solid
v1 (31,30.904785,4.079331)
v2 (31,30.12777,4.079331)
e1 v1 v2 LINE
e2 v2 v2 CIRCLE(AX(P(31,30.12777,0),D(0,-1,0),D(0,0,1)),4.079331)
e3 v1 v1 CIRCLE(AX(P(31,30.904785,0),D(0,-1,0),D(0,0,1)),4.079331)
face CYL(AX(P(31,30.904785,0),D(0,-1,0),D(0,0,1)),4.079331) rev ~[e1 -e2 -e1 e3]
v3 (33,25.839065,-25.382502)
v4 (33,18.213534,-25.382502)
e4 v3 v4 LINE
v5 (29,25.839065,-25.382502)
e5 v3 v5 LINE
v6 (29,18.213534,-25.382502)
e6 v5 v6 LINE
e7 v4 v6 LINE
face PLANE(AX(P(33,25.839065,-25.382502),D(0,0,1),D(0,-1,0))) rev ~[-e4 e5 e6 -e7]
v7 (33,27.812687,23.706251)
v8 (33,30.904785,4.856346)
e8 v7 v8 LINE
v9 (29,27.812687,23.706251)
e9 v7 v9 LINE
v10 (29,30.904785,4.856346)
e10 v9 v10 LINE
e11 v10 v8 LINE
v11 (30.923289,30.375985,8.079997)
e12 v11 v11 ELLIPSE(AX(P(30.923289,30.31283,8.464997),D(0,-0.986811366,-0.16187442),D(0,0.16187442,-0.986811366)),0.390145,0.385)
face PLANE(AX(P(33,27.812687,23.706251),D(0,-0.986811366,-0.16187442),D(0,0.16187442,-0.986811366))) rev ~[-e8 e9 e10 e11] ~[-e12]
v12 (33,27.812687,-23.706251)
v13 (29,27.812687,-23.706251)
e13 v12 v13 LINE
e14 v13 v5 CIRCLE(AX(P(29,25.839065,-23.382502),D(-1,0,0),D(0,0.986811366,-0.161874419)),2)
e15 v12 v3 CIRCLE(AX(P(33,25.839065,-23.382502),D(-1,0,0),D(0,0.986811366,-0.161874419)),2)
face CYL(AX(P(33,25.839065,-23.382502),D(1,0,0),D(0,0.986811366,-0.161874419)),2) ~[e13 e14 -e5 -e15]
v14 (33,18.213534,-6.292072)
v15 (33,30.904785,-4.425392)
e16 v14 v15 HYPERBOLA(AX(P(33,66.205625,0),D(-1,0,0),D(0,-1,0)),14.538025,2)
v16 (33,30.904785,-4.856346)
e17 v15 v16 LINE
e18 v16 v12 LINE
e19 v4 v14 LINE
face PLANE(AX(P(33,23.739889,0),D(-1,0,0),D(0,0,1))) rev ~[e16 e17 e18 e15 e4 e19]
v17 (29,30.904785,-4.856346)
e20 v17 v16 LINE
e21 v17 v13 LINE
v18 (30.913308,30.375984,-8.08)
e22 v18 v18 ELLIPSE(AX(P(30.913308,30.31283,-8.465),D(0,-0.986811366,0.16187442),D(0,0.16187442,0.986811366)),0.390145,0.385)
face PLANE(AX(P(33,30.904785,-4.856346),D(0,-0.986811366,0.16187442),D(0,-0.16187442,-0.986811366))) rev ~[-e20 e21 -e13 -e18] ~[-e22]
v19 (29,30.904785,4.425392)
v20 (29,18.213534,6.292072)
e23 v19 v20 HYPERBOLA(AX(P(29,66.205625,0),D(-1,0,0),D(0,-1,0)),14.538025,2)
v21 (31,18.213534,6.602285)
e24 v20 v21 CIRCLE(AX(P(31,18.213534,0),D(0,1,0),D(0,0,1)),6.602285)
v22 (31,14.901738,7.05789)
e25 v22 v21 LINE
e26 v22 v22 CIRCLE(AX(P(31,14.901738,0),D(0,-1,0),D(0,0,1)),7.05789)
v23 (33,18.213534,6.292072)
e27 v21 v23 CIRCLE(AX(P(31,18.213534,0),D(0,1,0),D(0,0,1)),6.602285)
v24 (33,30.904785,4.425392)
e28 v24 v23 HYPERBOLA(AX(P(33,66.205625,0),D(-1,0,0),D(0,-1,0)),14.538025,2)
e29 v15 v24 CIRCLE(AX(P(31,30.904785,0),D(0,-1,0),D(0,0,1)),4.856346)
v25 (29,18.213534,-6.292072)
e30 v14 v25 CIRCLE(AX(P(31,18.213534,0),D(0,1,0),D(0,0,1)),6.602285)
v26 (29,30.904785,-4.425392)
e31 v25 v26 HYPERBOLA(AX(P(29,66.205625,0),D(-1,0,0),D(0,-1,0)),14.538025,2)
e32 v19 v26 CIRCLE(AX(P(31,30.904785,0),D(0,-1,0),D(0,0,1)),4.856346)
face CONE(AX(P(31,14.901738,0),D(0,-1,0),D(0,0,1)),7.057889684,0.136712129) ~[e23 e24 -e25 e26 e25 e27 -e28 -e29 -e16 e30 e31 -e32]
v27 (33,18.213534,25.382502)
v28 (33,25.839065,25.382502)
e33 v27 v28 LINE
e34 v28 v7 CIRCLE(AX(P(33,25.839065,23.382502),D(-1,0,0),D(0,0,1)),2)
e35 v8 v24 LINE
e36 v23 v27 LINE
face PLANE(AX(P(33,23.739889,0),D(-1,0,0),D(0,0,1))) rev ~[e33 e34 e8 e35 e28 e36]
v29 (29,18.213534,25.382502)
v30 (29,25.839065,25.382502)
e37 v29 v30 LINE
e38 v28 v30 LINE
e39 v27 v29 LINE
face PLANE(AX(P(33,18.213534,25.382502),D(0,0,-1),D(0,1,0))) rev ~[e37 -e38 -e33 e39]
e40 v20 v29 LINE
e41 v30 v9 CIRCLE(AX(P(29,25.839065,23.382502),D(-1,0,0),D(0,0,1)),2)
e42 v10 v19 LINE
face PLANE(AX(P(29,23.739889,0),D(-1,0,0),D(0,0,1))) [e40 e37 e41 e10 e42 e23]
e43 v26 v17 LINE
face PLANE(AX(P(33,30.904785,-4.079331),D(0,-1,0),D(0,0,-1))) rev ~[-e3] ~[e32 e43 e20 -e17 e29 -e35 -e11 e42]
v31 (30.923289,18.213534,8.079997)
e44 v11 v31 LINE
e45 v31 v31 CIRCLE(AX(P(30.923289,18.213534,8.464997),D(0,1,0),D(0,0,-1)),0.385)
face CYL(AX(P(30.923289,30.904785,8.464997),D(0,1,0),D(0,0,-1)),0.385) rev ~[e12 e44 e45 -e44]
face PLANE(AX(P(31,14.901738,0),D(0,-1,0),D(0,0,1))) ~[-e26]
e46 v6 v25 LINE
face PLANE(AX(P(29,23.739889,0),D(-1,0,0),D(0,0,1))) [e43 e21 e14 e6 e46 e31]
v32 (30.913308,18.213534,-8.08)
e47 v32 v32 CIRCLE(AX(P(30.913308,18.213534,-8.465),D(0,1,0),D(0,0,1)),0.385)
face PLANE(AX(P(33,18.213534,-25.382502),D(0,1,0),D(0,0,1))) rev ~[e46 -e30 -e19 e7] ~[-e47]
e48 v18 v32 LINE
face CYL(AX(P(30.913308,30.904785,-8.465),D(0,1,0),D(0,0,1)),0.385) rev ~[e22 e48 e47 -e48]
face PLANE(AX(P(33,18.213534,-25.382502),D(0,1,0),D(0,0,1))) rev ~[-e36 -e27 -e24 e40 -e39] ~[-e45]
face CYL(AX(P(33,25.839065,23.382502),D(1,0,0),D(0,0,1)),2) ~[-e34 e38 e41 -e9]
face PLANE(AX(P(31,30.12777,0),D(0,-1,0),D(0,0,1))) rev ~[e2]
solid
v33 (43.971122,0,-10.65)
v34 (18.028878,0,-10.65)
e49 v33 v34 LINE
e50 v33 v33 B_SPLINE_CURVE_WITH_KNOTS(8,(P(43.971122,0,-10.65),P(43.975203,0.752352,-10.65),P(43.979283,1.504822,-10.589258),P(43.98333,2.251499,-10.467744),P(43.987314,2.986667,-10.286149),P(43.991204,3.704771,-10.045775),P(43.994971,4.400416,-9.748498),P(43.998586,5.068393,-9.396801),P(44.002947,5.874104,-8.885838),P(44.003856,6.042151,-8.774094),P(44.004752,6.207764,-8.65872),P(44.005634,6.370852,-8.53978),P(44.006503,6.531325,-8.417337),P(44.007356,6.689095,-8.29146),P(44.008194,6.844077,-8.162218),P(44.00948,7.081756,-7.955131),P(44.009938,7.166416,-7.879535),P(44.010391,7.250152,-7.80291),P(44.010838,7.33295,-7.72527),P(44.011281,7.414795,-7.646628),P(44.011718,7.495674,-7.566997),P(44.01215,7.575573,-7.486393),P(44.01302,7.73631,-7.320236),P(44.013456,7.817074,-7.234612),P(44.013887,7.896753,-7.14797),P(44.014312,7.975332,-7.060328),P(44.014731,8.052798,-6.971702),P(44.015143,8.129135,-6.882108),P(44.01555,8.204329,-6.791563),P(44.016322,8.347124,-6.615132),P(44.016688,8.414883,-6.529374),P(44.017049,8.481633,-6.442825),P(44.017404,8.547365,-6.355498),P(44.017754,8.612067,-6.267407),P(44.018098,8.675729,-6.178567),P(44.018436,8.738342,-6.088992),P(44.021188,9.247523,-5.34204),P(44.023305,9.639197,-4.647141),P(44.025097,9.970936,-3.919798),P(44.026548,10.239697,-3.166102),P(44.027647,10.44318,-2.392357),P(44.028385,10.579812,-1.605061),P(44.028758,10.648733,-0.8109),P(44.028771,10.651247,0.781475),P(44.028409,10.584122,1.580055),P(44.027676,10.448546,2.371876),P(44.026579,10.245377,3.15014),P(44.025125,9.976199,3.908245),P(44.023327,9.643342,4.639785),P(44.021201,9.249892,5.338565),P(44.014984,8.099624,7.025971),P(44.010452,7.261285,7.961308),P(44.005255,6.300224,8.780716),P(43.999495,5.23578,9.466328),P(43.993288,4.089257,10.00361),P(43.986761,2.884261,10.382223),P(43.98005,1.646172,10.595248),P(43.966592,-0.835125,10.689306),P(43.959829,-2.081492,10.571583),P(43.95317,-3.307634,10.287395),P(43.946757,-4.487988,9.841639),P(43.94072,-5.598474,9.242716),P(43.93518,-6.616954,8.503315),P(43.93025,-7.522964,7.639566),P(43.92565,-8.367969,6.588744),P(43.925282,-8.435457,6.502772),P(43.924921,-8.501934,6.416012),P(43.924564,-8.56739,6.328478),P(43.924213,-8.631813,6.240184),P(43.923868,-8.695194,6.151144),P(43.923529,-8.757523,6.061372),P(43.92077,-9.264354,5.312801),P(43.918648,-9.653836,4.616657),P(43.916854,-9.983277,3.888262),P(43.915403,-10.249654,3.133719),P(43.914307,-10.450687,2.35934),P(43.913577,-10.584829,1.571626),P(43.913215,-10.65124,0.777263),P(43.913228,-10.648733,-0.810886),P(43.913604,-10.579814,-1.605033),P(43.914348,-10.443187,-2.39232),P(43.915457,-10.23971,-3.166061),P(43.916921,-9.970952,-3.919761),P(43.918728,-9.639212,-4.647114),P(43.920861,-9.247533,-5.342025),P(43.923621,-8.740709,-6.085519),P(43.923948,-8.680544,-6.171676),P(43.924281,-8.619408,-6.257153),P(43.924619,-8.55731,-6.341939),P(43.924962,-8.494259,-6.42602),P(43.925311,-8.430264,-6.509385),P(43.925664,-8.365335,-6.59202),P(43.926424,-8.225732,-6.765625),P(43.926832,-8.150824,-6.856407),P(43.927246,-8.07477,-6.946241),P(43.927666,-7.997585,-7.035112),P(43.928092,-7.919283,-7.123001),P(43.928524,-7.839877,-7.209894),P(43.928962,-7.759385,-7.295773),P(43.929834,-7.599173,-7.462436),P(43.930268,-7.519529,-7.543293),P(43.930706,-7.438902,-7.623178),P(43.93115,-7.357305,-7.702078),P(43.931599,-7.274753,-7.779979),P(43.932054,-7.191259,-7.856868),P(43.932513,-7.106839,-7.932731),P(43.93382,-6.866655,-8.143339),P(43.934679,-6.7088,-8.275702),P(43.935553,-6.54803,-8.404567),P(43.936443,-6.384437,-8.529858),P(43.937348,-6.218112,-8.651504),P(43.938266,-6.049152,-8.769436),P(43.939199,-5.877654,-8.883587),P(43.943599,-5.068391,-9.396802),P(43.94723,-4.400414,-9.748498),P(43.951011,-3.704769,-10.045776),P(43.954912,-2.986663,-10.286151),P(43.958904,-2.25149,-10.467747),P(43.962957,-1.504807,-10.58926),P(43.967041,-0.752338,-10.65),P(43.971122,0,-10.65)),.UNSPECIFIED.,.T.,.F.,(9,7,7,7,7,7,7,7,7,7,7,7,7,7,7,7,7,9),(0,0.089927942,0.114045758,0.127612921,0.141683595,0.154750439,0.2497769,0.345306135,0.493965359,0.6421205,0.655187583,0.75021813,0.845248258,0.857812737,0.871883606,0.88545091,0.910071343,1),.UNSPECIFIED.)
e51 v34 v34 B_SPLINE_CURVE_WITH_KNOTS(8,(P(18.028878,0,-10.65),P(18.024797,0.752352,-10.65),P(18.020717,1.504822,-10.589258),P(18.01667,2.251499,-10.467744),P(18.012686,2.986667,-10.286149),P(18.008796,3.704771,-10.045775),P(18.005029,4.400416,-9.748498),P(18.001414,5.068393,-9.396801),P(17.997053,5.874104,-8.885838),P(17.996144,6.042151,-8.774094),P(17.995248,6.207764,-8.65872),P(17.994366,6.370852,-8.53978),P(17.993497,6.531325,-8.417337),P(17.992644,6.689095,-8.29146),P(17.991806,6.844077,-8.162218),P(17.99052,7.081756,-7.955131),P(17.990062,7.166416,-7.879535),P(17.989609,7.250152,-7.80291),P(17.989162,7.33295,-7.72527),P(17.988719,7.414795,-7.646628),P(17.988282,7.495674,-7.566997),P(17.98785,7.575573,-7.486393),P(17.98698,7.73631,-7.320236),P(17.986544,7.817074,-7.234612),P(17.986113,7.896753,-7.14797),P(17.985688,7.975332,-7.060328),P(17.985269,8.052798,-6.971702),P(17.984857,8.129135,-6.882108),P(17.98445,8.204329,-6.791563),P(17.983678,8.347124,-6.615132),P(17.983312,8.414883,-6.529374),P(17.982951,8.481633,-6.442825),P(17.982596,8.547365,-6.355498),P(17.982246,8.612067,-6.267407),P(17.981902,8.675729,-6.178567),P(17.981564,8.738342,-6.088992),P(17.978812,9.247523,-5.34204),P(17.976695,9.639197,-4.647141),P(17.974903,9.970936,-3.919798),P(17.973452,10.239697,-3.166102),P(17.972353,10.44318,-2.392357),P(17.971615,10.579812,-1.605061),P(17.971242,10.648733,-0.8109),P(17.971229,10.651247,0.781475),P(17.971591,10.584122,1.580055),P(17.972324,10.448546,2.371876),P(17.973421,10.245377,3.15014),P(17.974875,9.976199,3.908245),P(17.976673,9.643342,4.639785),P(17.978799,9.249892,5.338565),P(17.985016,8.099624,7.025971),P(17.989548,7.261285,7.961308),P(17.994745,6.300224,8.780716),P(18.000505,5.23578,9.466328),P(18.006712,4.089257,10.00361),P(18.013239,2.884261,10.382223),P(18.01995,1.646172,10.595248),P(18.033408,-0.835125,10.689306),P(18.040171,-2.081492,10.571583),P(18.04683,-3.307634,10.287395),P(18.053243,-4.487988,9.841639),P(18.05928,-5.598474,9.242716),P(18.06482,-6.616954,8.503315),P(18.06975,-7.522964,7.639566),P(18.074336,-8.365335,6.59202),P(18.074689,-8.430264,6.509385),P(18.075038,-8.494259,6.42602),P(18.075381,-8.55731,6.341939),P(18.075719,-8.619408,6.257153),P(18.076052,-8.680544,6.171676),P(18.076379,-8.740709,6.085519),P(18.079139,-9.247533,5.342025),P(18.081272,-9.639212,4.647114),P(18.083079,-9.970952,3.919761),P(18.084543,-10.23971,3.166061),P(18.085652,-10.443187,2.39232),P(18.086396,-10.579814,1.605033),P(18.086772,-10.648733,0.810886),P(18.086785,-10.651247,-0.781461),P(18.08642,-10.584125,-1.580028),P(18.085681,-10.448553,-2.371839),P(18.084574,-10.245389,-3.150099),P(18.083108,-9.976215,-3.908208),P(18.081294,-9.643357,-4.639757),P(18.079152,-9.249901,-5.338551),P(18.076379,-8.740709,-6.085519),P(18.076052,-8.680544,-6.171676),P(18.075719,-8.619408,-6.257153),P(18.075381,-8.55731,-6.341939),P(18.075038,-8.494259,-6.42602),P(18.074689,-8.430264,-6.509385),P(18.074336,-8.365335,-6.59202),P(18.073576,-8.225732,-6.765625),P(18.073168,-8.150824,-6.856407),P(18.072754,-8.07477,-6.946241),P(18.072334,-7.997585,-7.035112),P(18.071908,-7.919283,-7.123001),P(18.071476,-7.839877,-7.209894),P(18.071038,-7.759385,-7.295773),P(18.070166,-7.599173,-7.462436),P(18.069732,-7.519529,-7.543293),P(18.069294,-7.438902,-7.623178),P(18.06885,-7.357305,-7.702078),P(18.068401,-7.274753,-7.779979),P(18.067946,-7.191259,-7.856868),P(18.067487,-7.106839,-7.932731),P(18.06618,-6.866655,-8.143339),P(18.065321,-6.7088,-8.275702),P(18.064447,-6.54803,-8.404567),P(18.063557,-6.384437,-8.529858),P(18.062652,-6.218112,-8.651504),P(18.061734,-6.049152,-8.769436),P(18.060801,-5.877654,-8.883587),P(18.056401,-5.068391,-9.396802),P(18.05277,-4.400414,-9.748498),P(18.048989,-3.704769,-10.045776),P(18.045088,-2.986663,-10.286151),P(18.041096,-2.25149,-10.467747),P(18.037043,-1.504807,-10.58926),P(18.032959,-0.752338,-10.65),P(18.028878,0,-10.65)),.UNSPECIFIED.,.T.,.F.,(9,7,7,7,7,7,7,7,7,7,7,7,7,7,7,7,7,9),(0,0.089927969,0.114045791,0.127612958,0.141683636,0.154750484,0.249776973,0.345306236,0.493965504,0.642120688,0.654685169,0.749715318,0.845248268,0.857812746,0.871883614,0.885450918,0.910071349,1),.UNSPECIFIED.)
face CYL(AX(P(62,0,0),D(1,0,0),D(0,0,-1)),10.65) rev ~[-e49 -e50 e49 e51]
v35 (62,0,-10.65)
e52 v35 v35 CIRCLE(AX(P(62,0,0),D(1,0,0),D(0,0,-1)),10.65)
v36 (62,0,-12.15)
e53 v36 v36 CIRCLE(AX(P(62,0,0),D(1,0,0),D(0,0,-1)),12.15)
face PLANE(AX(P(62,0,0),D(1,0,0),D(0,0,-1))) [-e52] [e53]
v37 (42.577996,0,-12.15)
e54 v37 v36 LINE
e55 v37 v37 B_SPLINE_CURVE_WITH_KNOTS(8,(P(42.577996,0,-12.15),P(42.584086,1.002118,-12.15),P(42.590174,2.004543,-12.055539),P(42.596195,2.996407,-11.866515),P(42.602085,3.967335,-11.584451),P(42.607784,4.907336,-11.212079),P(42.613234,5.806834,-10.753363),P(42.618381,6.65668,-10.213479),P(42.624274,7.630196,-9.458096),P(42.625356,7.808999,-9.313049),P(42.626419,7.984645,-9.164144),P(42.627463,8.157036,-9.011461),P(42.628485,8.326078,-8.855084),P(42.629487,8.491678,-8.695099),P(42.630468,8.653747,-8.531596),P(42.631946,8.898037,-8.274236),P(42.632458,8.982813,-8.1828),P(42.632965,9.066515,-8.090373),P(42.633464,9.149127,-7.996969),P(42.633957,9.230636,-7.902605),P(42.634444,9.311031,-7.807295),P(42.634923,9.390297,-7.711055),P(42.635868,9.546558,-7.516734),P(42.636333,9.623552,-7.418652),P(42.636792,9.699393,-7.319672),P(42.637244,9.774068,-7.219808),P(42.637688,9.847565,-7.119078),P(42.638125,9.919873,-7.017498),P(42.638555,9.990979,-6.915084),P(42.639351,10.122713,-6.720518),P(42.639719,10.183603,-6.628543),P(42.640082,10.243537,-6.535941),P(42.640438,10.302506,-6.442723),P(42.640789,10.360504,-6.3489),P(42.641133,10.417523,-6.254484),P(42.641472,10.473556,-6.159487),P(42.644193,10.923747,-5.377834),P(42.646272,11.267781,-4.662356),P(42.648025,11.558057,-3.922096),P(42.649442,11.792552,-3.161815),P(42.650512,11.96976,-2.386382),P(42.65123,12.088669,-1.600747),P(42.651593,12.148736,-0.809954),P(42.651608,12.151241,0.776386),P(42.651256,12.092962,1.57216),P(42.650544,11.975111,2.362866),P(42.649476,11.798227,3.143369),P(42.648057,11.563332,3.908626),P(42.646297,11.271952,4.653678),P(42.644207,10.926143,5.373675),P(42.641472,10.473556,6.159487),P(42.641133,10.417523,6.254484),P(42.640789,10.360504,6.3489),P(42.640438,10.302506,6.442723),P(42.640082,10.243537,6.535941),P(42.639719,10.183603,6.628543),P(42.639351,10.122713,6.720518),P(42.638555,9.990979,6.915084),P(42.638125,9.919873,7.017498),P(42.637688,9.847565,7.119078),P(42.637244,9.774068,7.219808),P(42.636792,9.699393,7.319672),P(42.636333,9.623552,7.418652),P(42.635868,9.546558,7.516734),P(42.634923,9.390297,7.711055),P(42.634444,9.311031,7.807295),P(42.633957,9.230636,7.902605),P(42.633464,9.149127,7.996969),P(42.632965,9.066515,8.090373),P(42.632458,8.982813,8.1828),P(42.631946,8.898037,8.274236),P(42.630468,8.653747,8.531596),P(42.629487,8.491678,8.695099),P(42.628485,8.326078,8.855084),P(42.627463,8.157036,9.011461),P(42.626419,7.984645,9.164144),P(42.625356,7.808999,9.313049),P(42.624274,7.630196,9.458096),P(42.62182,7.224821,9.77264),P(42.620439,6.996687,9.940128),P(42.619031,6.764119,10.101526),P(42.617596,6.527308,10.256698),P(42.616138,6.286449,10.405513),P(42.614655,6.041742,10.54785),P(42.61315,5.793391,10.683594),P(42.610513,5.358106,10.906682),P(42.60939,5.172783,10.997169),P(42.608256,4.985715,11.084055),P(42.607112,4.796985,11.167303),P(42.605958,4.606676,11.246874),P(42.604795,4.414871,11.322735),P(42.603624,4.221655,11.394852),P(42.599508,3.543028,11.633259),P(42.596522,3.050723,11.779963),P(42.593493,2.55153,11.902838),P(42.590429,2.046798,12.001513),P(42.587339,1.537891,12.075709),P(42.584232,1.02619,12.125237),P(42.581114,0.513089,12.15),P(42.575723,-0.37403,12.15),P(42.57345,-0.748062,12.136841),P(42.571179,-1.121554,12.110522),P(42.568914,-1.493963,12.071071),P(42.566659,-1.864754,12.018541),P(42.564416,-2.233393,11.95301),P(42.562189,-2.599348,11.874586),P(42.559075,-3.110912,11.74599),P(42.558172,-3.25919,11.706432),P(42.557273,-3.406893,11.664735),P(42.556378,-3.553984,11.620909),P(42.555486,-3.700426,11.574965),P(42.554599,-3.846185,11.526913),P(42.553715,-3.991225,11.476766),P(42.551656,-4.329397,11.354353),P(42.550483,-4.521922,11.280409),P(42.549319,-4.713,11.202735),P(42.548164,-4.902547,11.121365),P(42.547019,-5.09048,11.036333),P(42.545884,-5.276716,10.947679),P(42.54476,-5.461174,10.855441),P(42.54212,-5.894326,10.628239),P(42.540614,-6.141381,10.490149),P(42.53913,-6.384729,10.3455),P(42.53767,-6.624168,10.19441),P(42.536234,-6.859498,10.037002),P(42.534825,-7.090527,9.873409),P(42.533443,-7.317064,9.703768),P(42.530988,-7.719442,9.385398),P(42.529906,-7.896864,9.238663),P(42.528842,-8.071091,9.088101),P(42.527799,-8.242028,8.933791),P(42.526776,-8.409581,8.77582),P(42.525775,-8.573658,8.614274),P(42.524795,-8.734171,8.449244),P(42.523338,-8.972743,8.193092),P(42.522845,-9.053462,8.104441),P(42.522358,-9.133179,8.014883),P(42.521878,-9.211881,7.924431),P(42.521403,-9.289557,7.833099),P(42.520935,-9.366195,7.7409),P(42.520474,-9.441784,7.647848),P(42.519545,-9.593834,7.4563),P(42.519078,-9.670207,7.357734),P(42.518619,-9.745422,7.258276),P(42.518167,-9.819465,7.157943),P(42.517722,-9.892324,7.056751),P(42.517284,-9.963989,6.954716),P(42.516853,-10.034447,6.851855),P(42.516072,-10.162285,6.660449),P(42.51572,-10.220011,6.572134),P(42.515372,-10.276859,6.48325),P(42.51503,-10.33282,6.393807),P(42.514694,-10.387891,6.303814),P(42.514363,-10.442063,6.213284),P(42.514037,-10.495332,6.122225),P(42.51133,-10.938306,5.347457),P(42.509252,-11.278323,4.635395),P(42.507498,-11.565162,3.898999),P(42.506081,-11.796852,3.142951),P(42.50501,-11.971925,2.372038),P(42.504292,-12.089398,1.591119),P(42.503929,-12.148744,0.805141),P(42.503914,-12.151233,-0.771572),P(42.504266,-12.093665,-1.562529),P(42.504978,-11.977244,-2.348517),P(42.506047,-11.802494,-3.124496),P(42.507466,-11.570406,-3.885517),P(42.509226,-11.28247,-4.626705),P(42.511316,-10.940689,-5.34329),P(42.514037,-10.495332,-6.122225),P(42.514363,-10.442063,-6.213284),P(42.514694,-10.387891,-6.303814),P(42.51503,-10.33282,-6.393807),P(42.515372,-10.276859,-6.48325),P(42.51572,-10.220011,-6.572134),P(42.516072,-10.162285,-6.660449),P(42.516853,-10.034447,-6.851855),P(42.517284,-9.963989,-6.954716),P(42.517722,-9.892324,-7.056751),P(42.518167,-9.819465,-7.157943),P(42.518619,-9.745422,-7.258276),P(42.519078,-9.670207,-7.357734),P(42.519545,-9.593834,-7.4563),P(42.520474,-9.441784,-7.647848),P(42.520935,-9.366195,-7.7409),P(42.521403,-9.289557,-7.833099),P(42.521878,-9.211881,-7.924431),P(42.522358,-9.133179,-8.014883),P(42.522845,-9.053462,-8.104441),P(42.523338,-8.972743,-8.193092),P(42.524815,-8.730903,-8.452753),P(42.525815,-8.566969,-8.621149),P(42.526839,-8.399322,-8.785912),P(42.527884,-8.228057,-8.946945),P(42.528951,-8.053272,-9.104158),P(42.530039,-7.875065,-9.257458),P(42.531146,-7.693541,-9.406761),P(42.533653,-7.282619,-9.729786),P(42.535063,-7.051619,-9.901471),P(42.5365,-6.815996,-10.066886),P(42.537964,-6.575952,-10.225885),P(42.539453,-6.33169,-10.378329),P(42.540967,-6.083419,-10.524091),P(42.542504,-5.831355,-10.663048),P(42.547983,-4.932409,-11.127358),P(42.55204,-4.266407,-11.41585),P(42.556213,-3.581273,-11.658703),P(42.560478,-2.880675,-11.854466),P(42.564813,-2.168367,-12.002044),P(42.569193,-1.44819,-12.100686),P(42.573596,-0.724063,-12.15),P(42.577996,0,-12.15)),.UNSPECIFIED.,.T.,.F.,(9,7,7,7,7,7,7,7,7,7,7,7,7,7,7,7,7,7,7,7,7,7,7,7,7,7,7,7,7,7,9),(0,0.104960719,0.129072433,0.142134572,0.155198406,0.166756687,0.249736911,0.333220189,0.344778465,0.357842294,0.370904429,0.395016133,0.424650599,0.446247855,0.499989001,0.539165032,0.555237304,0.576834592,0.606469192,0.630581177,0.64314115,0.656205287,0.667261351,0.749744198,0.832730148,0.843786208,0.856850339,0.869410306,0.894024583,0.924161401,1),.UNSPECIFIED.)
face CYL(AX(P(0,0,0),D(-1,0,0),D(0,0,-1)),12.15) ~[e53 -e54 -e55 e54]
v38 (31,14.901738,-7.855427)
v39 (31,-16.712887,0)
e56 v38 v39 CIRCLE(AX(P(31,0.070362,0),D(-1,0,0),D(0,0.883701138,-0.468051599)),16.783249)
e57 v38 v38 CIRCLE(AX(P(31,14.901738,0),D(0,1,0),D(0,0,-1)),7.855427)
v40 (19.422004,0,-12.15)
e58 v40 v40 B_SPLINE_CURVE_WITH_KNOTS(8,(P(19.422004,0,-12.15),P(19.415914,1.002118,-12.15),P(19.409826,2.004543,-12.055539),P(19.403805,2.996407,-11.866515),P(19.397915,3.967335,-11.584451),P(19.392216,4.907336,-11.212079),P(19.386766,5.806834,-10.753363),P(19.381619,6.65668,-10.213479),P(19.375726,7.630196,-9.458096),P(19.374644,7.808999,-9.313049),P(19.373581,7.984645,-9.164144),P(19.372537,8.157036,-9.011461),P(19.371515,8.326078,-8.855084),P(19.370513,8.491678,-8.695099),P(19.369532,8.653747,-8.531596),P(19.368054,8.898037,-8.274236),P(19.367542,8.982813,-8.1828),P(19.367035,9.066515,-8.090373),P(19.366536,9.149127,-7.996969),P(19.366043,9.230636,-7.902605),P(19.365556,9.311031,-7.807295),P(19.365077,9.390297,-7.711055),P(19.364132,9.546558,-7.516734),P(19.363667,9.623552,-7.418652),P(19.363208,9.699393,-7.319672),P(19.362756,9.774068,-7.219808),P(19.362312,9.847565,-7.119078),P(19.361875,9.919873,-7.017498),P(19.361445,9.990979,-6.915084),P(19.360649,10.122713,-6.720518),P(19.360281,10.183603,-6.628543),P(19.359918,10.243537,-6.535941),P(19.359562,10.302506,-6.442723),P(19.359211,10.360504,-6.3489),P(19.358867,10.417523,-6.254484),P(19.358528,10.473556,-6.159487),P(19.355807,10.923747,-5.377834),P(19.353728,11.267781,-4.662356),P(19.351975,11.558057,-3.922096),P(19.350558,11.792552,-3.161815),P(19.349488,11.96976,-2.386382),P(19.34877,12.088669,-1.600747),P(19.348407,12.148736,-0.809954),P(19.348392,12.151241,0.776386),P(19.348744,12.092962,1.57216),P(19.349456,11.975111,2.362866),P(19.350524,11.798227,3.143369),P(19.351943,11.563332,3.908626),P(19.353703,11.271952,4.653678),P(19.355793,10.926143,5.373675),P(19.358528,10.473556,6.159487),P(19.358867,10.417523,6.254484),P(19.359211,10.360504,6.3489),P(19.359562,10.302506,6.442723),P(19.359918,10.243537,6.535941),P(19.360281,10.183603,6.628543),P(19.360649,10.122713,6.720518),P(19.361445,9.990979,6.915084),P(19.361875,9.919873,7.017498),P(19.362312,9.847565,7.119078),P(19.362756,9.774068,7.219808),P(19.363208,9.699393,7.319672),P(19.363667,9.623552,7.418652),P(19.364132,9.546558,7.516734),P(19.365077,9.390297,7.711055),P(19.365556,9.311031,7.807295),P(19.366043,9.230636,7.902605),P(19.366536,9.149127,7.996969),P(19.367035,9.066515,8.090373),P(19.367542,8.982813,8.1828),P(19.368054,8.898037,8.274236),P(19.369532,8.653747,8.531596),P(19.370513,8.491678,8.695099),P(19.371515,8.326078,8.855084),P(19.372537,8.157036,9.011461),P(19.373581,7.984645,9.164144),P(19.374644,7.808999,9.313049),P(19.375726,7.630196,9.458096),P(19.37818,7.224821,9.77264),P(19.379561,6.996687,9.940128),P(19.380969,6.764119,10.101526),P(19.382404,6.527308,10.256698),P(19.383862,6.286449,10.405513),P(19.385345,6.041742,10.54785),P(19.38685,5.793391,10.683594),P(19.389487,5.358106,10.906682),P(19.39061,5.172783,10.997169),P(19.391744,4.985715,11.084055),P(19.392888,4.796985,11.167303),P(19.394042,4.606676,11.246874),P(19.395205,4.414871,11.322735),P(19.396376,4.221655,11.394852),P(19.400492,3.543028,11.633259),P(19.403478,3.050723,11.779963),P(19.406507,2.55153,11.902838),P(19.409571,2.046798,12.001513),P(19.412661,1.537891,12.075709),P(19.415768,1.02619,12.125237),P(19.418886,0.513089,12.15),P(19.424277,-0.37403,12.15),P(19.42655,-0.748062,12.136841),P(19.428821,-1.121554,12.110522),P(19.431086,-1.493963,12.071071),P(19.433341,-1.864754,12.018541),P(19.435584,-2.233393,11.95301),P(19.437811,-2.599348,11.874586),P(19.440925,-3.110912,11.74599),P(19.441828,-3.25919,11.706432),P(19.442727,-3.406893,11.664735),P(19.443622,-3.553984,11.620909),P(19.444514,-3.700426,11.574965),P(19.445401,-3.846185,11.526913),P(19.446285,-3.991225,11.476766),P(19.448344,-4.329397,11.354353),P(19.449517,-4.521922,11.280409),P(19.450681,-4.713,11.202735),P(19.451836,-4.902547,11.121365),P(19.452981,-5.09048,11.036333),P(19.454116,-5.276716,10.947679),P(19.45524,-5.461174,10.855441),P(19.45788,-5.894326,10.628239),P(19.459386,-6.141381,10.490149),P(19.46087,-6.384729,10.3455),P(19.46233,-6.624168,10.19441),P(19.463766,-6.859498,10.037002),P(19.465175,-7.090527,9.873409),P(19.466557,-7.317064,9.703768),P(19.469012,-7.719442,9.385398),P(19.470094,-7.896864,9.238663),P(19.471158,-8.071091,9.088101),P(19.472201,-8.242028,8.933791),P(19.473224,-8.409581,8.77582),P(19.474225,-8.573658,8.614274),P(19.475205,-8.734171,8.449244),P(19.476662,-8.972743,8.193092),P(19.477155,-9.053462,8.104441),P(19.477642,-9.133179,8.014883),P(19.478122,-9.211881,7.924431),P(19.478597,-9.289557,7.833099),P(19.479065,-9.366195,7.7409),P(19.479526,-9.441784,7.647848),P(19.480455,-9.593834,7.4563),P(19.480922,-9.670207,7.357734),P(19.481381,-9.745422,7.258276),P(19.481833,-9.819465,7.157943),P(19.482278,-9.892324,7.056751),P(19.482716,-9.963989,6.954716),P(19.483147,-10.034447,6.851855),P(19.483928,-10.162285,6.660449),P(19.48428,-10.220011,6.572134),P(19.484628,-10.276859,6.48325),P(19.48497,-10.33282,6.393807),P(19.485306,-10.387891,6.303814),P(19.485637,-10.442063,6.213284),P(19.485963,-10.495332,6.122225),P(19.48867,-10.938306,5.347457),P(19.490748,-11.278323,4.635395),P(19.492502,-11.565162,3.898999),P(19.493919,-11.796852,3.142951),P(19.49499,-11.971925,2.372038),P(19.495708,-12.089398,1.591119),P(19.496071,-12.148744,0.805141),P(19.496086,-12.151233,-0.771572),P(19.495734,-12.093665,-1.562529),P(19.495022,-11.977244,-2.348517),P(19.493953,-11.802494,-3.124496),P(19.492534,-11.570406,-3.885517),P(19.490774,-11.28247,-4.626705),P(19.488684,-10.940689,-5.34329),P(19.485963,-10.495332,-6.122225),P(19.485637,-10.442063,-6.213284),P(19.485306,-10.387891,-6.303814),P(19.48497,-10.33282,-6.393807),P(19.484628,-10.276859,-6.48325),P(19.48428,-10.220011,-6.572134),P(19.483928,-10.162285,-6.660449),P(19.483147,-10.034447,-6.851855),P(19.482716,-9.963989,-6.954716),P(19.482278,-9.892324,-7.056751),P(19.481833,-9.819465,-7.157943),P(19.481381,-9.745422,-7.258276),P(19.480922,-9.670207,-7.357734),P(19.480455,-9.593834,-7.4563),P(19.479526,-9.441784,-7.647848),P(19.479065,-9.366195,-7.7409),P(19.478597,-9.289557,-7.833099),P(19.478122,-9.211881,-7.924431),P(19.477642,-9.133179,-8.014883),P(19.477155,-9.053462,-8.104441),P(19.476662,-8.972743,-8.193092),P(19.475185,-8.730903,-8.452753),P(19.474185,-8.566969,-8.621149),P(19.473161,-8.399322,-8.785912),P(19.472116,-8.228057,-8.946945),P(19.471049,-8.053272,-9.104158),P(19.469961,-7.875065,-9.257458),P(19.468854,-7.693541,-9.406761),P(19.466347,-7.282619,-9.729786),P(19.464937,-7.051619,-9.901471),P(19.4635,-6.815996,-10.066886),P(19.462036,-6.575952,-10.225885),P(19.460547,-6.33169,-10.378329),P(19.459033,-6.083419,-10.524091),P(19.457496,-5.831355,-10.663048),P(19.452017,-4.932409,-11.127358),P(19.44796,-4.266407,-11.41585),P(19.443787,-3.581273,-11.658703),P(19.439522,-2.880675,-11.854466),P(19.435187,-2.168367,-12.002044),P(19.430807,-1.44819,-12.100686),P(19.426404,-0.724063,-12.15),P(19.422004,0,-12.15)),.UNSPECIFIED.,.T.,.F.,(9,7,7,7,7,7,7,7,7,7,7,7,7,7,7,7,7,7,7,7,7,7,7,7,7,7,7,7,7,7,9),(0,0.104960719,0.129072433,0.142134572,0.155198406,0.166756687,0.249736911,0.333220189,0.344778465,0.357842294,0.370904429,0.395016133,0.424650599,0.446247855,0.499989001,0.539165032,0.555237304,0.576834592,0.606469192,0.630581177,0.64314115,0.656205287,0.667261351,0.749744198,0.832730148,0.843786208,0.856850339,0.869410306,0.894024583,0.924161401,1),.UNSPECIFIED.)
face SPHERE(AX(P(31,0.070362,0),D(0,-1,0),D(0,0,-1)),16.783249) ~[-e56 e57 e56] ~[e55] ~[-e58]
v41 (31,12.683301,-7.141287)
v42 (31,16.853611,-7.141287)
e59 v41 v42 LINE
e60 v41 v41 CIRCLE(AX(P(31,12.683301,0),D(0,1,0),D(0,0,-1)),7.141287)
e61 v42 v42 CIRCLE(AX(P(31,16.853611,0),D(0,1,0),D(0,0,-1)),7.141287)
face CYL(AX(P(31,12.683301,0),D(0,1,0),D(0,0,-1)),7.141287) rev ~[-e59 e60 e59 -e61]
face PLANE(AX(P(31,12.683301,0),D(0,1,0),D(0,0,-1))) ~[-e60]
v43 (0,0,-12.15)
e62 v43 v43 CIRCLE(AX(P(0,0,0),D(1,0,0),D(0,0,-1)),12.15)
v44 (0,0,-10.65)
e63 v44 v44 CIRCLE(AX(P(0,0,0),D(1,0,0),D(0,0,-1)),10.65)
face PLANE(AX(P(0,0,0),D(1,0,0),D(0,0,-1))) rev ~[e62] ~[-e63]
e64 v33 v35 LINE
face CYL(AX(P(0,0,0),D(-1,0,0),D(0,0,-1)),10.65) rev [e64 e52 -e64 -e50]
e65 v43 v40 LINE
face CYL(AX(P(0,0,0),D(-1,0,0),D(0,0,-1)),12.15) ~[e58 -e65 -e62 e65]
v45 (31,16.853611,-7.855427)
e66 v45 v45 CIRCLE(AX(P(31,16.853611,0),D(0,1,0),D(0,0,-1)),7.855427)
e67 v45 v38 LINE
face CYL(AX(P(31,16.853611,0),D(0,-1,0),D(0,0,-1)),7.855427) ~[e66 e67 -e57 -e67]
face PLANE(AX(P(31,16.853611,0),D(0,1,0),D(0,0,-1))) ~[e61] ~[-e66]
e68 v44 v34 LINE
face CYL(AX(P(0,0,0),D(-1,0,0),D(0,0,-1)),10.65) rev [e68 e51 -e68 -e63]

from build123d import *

# Parameters (mm, degrees)
CROQUIS1_R                   = 12.15
CROQUIS1_R_2                 = 10.65
SALIENTE_EXTRUIR1_DEPTH      = 62
SALIENTE_EXTRUIR2_DEPTH      = 2
SALIENTE_EXTRUIR2_DEPTH_BACK = 2
CROQUIS7_R                   = 10.65
CORTAR_EXTRUIR1_DEPTH        = 74.779246403
CROQUIS8_R                   = 0.385
CORTAR_EXTRUIR2_DEPTH        = 12.691251175


with BuildPart() as part:
    # Croquis1 → Saliente-Extruir1 (new body)
    with BuildSketch(Plane(origin=(0, 0, 0), x_dir=(0, 0, -1), z_dir=(1, 0, 0))):
        Circle(CROQUIS1_R)
        Circle(CROQUIS1_R_2, mode=Mode.SUBTRACT)
    extrude(amount=SALIENTE_EXTRUIR1_DEPTH)

    # Croquis2 → Revolución1 (revolve)
    with BuildSketch(Plane(origin=(31, 0, 0), x_dir=(0, 0, -1), z_dir=(1, 0, 0))):
        with BuildLine():
            Line((7.855426501, 16.853610773), (7.855426501, 14.901738017))
            ThreePointArc((7.855426501, 14.901738017), (16.287972929, -3.976783245), (0, -16.712887128))
            Line((0, -16.712887128), (0, 12.683300927))
            Line((0, 12.683300927), (7.141286848, 12.683300927))
            Line((7.141286848, 12.683300927), (7.141286848, 16.853610773))
            Line((7.141286848, 16.853610773), (7.855426501, 16.853610773))
        make_face()
    revolve(axis=Axis((31, -16.712887128, 0), (0, 1, 0)))

    # Croquis7 → Cortar-Extruir1 (cut, through all)
    with BuildSketch(Plane(origin=(62, 0, 0), x_dir=(0, 0, -1), z_dir=(1, 0, 0))):
        Circle(CROQUIS7_R)
    extrude(amount=-CORTAR_EXTRUIR1_DEPTH, mode=Mode.SUBTRACT)


with BuildPart() as body_2:
    # Croquis3 → Revolución2 (revolve)
    with BuildSketch(Plane.ZY.offset(-31), mode=Mode.PRIVATE) as revoluci_n2_sk:
        Polygon((0, 14.901738017), (-7.057889684, 14.901738017), (-4.856346113, 30.90478542), (-4.079330735, 30.90478542), (-4.079330735, 30.127770042), (0, 30.127770042), align=None)
    revolve(revoluci_n2_sk.sketch.rotate(Axis((31, 30.127770042, 0), (0, -1, 0)), 180), axis=Axis((31, 30.127770042, 0), (0, -1, 0)))

    # Croquis4 → Saliente-Extruir2 (add, two sides: drawn at the far end of the back side and taken through both)
    with BuildSketch(Plane.ZY.offset(-31).offset(-SALIENTE_EXTRUIR2_DEPTH_BACK)):
        with BuildLine():
            Line((-4.856346113, 30.90478542), (-23.70625119, 27.812687426))
            ThreePointArc((-23.70625119, 27.812687426), (-24.906887092, 27.13376588), (-25.382502351, 25.839064694))
            Line((-25.382502351, 25.839064694), (-25.382502351, 18.213534245))
            Line((-25.382502351, 18.213534245), (25.382502351, 18.213534245))
            Line((25.382502351, 18.213534245), (25.382502351, 25.839064694))
            ThreePointArc((25.382502351, 25.839064694), (24.906887092, 27.13376588), (23.70625119, 27.812687426))
            Line((23.70625119, 27.812687426), (4.856346113, 30.90478542))
            Line((4.856346113, 30.90478542), (4.079330735, 30.90478542))
            Line((4.079330735, 30.90478542), (4.079330735, 30.127770042))
            Line((4.079330735, 30.127770042), (-4.079330735, 30.127770042))
            Line((-4.079330735, 30.127770042), (-4.079330735, 30.90478542))
            Line((-4.079330735, 30.90478542), (-4.856346113, 30.90478542))
        make_face()
    extrude(amount=SALIENTE_EXTRUIR2_DEPTH + SALIENTE_EXTRUIR2_DEPTH_BACK)

    # Croquis8 → Cortar-Extruir2 (cut)
    with BuildSketch(Plane(origin=(0, 30.90478542, 0), x_dir=(1, 0, 0), z_dir=(0, 1, 0))):
        with Locations(Location((30.913307858, 8.465, 0), (0, 0, 270))):
            Circle(CROQUIS8_R)
        with Locations(Location((30.923288865, -8.464997058, 0), (0, 0, 90))):
            Circle(CROQUIS8_R)
    extrude(amount=-CORTAR_EXTRUIR2_DEPTH, mode=Mode.SUBTRACT)


solid = Compound([part.part, body_2.part])
